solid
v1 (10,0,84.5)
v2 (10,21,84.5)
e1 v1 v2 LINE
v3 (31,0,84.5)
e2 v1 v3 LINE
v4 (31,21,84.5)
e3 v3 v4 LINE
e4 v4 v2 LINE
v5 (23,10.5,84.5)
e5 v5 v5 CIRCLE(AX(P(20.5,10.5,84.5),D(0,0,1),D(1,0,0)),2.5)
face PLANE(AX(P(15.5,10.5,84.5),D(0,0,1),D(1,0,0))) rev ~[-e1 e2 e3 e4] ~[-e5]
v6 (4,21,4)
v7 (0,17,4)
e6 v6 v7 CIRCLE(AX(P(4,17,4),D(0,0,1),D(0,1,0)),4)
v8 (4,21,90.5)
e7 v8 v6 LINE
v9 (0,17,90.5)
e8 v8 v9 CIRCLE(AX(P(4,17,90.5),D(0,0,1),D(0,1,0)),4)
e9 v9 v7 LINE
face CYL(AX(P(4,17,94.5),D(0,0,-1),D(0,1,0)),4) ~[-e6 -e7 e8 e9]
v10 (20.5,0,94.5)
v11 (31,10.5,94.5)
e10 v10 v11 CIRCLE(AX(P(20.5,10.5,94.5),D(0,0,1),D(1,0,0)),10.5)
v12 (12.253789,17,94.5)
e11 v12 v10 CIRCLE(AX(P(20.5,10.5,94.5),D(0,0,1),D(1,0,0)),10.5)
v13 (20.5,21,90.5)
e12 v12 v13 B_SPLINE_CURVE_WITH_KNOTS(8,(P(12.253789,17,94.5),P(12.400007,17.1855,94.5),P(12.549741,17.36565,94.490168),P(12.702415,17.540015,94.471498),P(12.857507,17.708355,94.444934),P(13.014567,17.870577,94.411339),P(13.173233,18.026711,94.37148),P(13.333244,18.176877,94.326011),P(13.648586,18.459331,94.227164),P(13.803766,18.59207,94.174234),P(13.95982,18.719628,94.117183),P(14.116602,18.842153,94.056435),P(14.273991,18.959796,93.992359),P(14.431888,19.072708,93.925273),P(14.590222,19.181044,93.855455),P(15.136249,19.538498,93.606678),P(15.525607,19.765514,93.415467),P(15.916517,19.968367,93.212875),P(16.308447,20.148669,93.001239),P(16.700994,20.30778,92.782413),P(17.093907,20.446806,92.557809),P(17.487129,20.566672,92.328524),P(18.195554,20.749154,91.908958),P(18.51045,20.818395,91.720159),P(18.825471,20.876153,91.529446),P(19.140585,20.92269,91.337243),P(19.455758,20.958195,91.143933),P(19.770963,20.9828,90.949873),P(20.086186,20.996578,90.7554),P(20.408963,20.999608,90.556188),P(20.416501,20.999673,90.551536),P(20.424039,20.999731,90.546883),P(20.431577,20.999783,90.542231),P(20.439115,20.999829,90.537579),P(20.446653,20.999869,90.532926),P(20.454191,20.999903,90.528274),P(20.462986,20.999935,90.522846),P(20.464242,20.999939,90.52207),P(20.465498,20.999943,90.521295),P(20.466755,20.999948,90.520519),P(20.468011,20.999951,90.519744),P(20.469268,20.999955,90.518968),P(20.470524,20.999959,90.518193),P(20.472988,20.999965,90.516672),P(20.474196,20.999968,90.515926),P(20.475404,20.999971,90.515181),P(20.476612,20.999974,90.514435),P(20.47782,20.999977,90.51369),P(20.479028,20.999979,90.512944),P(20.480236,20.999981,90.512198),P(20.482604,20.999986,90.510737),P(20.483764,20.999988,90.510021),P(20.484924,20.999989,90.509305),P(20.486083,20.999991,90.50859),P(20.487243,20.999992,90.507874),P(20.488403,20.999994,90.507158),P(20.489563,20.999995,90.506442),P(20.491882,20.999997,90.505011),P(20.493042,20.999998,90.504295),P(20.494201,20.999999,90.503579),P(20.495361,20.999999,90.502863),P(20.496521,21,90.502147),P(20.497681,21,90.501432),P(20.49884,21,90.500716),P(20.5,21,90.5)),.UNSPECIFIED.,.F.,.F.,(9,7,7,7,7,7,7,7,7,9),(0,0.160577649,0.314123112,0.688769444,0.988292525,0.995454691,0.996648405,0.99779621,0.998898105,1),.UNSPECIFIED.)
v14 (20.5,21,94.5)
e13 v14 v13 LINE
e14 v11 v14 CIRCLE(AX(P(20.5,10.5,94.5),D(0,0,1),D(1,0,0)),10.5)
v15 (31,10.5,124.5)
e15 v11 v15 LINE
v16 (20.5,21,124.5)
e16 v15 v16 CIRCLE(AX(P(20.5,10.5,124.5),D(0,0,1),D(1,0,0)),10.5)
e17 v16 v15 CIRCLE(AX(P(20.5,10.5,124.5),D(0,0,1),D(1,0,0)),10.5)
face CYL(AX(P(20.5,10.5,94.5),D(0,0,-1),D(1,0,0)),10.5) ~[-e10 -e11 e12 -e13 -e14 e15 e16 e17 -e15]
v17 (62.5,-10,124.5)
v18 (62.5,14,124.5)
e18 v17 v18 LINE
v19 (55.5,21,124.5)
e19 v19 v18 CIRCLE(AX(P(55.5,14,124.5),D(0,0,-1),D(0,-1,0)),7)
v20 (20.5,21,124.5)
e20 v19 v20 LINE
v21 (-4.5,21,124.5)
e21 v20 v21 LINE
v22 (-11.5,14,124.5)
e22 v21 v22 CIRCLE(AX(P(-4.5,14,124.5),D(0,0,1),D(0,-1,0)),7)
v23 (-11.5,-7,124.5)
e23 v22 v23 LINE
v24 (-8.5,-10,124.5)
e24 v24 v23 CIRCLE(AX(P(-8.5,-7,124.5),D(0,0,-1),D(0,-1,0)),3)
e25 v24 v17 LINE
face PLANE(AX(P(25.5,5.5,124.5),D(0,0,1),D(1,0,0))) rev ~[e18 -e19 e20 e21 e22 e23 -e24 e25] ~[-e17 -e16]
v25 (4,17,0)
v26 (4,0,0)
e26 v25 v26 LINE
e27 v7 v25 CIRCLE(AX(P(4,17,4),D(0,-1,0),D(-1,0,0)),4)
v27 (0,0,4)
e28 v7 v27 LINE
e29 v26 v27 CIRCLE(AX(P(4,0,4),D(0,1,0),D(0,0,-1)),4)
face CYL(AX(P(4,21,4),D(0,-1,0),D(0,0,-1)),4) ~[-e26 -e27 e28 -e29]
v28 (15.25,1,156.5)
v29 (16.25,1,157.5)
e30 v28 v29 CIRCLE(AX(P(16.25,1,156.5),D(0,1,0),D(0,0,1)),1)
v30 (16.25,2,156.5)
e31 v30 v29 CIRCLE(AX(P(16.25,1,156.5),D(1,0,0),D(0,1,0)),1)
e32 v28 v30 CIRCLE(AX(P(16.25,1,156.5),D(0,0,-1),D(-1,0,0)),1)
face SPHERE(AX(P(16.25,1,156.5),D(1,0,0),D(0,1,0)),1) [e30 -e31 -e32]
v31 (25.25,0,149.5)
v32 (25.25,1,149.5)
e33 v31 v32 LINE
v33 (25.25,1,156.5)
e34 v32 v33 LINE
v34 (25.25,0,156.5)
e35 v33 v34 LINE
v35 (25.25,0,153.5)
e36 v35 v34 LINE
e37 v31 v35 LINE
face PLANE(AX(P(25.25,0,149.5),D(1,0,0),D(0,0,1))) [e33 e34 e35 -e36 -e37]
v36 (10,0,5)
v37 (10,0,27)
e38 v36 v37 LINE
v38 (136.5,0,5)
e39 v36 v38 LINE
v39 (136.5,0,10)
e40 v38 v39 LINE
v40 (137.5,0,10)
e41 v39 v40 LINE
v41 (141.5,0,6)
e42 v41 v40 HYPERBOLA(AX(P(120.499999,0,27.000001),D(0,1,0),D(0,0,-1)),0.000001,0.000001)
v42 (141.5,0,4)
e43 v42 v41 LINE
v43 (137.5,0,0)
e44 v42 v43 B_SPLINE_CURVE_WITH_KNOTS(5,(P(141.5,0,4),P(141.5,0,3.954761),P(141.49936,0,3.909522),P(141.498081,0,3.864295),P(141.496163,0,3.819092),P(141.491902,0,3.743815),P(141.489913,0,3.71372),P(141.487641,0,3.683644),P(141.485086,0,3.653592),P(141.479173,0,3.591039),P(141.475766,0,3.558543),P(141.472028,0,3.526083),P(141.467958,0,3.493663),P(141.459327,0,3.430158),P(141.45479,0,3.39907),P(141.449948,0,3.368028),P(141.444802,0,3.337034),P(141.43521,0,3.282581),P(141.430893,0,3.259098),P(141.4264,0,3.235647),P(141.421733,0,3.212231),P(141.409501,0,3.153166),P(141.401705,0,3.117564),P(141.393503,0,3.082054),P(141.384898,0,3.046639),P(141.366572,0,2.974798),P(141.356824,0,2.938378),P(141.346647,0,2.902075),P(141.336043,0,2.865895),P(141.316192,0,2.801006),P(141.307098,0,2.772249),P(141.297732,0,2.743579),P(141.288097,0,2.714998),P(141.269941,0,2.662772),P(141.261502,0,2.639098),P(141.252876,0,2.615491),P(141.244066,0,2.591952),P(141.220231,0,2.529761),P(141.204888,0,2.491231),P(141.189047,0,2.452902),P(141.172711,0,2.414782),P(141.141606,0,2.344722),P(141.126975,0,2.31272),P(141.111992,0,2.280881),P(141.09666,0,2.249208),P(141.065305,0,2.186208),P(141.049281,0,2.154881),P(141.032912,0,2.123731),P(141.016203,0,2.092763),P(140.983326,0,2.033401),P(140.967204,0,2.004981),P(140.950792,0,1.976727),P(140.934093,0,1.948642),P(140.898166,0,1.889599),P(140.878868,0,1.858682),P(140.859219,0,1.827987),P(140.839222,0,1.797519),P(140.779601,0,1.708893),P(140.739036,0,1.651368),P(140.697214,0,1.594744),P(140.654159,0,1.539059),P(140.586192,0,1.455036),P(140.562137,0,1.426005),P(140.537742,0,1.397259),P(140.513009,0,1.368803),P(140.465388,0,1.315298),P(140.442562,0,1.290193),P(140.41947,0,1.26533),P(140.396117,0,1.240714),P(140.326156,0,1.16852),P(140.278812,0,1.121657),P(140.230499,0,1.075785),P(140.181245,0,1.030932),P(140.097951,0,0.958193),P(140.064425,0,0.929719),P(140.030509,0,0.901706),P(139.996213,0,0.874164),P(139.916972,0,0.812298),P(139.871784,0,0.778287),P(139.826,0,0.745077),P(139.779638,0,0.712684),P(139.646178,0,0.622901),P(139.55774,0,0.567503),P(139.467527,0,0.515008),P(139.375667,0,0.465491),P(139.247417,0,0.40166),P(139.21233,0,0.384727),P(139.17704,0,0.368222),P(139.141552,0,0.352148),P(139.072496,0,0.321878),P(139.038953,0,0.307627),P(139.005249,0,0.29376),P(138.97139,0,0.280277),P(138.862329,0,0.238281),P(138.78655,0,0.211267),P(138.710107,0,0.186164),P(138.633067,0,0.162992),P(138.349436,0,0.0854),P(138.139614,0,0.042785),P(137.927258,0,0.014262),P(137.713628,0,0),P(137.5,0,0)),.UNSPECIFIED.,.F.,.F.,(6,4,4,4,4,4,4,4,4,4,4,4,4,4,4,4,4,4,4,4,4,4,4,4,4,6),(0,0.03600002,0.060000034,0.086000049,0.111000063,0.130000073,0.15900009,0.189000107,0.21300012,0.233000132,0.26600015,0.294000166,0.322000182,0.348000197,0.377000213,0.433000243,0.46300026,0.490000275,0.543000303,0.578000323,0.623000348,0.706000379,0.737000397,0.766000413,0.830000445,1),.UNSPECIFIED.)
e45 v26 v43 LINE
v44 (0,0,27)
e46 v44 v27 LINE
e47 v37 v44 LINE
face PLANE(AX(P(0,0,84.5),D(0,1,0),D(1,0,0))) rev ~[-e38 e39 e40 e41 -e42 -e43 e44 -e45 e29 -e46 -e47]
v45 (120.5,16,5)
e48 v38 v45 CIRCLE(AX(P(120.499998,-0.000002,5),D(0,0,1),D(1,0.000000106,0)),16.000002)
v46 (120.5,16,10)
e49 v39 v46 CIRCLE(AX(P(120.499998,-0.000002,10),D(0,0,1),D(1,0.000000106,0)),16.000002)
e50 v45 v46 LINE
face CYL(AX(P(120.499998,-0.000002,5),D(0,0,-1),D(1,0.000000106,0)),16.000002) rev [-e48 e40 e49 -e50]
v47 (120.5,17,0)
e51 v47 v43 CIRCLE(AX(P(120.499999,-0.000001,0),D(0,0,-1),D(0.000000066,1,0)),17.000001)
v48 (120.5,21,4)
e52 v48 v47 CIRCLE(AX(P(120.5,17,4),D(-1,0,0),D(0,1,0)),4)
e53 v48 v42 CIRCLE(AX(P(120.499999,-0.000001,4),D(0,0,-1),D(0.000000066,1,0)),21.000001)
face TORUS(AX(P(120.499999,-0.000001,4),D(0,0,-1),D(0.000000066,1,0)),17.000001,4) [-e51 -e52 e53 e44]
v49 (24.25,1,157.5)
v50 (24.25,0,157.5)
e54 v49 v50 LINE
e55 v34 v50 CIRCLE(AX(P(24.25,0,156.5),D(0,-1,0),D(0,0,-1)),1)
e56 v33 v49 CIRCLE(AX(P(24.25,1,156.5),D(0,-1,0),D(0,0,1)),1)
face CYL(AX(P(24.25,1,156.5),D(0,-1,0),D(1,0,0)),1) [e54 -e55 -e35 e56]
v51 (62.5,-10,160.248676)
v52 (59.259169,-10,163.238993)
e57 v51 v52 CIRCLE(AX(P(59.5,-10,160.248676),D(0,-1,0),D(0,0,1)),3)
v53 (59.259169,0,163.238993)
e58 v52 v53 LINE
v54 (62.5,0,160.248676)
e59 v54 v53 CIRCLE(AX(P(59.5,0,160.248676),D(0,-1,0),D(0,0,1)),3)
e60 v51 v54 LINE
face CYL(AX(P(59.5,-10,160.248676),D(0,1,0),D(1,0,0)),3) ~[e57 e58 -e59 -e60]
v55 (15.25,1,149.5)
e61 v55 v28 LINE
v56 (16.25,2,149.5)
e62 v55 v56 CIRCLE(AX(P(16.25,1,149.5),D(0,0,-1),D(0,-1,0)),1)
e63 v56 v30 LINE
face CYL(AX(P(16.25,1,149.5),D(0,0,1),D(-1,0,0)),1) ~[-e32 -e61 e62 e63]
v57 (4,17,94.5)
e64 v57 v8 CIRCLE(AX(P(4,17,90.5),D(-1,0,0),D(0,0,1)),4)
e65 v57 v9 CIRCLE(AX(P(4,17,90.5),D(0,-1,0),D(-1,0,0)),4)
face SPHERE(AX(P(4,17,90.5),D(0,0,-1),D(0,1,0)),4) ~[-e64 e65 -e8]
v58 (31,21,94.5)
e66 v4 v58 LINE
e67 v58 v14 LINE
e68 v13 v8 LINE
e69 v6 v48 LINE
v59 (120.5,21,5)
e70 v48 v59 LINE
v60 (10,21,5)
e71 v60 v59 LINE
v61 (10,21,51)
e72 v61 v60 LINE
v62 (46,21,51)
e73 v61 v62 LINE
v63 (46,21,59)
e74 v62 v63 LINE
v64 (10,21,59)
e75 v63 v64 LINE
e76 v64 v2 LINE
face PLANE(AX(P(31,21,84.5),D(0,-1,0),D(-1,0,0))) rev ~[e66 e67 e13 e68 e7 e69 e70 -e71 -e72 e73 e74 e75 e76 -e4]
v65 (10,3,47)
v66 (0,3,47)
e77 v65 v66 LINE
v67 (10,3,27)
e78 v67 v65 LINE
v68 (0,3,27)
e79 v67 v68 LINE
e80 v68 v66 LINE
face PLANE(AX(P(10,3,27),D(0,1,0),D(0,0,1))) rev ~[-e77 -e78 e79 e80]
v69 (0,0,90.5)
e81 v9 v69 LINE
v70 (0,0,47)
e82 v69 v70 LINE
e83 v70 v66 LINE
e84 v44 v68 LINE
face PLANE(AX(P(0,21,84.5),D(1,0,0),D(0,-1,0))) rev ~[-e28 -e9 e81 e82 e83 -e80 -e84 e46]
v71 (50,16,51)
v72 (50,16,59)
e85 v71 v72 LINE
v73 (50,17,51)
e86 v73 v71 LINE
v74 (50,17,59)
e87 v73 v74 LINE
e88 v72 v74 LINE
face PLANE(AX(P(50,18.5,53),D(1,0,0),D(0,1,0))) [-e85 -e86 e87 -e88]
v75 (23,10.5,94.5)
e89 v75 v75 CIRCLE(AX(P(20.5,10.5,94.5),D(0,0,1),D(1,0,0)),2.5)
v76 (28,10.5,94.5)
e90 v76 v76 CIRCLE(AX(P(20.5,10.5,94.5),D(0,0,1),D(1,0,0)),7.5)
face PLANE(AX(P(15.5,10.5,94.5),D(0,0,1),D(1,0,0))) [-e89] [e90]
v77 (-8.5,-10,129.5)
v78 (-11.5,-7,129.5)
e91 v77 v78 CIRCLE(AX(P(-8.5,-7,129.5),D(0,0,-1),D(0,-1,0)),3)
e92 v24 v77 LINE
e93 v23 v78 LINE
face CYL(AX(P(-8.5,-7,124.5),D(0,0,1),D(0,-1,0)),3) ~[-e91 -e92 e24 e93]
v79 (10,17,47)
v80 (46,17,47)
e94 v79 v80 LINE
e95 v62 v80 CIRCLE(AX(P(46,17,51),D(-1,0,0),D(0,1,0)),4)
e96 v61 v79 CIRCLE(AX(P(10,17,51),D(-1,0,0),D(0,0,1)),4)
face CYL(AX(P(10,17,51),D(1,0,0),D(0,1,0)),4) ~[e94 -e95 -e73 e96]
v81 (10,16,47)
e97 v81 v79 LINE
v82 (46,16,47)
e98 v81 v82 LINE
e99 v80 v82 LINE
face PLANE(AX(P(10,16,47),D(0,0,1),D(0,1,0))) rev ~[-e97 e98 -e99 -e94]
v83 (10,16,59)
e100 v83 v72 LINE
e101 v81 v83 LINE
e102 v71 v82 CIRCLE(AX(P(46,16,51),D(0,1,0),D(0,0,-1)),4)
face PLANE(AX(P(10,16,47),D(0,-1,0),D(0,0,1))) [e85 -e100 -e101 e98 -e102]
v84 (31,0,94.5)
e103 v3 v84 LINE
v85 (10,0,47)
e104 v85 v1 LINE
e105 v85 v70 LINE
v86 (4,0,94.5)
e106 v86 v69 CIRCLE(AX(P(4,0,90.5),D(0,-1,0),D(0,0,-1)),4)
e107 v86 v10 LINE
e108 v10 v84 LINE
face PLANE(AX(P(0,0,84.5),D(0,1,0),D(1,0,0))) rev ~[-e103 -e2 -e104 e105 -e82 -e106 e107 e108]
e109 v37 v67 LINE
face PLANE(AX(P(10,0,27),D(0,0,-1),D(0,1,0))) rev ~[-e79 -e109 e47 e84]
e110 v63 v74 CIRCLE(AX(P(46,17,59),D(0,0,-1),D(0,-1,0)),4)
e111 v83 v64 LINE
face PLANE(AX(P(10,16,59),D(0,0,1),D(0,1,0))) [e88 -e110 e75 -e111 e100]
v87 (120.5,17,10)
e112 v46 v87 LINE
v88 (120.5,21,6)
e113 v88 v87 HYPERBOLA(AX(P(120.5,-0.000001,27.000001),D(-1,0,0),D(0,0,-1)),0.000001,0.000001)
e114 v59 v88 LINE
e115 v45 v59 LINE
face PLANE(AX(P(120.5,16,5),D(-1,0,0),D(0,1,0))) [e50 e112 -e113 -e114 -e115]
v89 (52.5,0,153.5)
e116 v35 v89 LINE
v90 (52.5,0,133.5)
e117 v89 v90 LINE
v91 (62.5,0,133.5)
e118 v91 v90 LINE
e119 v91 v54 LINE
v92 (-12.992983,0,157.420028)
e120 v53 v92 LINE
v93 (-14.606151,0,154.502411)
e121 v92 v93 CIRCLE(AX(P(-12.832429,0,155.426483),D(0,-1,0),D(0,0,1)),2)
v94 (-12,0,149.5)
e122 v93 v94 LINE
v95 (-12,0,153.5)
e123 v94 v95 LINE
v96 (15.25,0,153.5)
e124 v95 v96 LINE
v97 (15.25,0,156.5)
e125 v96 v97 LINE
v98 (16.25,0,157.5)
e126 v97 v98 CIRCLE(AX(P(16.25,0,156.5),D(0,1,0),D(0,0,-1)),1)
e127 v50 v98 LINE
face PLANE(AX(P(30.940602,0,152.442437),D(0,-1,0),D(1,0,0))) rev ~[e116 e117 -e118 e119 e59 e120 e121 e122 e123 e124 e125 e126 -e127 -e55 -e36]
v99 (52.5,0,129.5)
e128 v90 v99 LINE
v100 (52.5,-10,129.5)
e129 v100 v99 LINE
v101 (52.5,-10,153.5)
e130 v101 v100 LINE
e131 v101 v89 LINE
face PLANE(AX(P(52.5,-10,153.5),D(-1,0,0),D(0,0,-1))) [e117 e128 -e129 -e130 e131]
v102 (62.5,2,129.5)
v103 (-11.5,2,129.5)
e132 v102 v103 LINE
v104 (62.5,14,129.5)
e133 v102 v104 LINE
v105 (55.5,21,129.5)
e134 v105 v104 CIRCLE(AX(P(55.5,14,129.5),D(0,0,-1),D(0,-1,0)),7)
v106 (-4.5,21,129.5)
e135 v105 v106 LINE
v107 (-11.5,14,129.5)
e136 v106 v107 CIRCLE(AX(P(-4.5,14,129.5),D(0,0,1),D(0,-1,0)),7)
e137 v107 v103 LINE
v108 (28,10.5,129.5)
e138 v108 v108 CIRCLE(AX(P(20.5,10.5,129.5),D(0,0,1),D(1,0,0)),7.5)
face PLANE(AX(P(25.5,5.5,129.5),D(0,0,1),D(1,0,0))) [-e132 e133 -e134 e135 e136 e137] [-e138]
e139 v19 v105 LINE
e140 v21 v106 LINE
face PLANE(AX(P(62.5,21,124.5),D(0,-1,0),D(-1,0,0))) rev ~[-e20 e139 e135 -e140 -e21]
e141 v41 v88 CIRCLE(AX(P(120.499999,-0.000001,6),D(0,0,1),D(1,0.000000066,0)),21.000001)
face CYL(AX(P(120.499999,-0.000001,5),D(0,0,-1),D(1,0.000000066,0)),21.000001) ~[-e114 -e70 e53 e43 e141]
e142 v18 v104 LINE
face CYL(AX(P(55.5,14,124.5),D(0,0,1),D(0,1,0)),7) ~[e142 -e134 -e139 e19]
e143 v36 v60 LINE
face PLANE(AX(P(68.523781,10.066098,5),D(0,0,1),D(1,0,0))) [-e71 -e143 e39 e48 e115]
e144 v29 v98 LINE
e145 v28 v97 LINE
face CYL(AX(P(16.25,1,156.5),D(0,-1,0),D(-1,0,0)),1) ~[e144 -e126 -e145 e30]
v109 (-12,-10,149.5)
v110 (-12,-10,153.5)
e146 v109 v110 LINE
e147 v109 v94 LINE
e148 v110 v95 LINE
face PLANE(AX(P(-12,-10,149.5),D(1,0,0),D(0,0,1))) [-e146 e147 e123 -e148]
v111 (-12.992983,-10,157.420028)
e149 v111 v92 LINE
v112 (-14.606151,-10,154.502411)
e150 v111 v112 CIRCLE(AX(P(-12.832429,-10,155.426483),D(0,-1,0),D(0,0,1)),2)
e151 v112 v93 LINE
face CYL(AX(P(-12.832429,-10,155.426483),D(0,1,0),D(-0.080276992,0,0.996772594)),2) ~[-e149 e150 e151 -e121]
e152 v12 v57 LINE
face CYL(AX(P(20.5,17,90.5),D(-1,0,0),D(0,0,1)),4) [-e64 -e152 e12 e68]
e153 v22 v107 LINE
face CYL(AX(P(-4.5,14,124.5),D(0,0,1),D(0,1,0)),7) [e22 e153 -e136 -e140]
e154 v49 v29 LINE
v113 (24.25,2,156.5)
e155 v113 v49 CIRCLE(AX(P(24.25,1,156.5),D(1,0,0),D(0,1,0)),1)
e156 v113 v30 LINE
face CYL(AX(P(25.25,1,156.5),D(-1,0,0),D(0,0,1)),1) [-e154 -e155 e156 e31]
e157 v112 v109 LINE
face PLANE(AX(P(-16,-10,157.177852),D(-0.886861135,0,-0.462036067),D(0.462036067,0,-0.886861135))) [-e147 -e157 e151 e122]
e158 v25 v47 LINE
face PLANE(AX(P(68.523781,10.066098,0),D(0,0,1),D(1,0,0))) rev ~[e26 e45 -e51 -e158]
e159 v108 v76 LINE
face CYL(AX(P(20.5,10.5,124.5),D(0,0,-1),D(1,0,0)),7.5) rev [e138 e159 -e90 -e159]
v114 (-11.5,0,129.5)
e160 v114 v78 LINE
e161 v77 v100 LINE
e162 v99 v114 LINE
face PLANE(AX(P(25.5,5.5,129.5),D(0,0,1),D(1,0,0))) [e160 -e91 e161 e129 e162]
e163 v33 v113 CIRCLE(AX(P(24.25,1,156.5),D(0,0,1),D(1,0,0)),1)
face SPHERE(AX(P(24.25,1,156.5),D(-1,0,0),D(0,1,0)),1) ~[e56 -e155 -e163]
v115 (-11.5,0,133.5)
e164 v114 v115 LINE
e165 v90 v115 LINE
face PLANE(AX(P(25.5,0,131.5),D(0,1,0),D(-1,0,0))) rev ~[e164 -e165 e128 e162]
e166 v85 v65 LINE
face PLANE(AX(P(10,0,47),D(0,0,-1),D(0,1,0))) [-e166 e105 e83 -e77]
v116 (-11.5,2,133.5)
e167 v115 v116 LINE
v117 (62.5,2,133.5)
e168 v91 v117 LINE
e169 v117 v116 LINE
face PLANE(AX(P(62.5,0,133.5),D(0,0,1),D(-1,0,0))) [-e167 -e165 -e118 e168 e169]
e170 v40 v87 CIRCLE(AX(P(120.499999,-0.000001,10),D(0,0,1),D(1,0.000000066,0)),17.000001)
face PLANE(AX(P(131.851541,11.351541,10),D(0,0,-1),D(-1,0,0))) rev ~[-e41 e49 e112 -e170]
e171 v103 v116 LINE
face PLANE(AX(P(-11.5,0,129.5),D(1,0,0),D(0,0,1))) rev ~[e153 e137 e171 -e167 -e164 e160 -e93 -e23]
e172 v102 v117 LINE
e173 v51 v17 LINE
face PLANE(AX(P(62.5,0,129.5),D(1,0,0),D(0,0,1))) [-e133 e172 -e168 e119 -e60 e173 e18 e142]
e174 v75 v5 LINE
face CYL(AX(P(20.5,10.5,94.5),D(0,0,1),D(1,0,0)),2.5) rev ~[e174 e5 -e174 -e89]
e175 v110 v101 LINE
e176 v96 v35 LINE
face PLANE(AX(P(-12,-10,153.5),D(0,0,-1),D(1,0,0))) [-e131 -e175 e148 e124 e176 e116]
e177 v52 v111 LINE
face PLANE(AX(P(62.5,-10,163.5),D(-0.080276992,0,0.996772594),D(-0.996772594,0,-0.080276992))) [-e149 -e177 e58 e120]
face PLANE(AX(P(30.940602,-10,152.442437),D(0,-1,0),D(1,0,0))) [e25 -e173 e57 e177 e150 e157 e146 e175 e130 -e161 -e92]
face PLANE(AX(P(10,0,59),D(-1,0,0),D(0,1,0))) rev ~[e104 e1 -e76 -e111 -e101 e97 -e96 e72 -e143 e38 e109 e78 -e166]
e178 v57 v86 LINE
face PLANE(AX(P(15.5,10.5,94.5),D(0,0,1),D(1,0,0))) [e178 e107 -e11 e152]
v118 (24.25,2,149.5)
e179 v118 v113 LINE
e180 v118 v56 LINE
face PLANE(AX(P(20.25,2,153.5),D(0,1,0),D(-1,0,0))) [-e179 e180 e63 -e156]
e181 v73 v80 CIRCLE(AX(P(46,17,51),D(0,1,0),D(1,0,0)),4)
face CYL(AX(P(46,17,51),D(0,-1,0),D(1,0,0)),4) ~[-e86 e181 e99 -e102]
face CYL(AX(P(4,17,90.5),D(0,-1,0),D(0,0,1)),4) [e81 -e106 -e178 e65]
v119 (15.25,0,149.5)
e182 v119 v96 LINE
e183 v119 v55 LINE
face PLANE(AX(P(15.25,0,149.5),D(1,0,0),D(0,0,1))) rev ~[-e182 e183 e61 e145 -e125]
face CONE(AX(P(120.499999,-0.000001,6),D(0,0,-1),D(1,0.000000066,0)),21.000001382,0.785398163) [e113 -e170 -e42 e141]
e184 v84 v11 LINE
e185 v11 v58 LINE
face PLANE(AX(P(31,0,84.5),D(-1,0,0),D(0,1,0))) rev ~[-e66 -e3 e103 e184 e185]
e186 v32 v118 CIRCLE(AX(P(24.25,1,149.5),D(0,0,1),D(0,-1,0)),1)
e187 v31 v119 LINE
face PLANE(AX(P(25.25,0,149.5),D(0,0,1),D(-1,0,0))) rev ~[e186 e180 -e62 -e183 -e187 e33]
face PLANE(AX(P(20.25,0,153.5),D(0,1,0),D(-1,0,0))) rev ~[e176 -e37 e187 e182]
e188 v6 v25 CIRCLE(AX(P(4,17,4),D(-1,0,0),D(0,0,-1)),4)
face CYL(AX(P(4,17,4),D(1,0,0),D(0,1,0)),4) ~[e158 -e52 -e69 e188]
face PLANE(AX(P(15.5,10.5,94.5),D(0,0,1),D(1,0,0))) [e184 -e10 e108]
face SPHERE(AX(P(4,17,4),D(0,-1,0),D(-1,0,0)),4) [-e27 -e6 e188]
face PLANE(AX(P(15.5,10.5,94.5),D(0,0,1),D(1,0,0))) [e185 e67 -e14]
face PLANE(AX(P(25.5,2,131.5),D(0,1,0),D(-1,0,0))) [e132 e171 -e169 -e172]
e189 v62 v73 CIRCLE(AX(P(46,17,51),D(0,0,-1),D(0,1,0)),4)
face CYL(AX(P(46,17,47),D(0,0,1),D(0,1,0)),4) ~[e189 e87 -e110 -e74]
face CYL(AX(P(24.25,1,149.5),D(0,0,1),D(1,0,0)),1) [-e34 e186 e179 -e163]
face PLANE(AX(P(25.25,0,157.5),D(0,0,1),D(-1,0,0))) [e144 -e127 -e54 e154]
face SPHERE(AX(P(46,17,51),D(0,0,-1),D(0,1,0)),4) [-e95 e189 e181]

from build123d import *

# Parameters (mm, degrees)
PAD_DEPTH       = 5
SKETCH001_W     = 10
SKETCH001_H     = 21
PAD001_DEPTH    = 54
PAD002_DEPTH    = 5
SKETCH004_W     = 5
SKETCH004_H     = 12
PAD003_DEPTH    = 40
SKETCH005_W     = 10
SKETCH005_H     = 21
PAD004_DEPTH    = 25.5
PAD005_DEPTH    = 10
SKETCH007_R     = 2.5
POCKET_DEPTH    = 10
SKETCH008_R     = 10.5
SKETCH008_R_2   = 7.5
PAD006_DEPTH    = 30
CHAMFER_SIZE    = 4
FILLET_R        = 4
FILLET001_R     = 4
FILLET002_R     = 4
SKETCH009_W     = 3
SKETCH009_H     = 20
POCKET001_DEPTH = 10
SKETCH010_R     = 7.5
PAD007_DEPTH    = 5
FILLET003_R     = 4
FILLET004_R     = 4
PAD008_DEPTH    = 10
SKETCH012_W     = 74
SKETCH012_H     = 4
SKETCH012_W_2   = 10
SKETCH012_H_2   = 8
PAD009_DEPTH    = 2
FILLET005_R     = 7
FILLET006_R     = 7
FILLET007_R     = 3
FILLET008_R     = 2
FILLET009_R     = 3
FILLET010_R     = 1
FILLET011_R     = 1
FILLET012_R     = 1


with BuildPart() as part:
    # Sketch → Pad (new body)
    with BuildSketch(Plane.XY):
        with BuildLine():
            Line((0, 21), (0, 0))
            Line((0, 0), (10, 0))
            Line((136.5, 0), (10, 0))
            Line((141.5, 0), (136.5, 0))
            ThreePointArc((141.5, 0), (135.349242, 14.849242), (120.5, 21))
            Line((10, 21), (120.5, 21))
            Line((0, 21), (10, 21))
        make_face()
    extrude(amount=PAD_DEPTH)

    # Sketch001 (on Face4 of Pad) → Pad001 (join)
    with BuildSketch(Plane.XY.offset(5)):
        with Locations((5, 10.5)):
            Rectangle(SKETCH001_W, SKETCH001_H)
    extrude(amount=PAD001_DEPTH)

    # Sketch002 (on Face3 of Pad001) → Pad002 (join)
    with BuildSketch(Plane.XY.offset(5)):
        with BuildLine():
            ThreePointArc((136.5, 0), (131.813708, 11.313708), (120.5, 16))
            Line((120.5, 16), (120.5, 21))
            ThreePointArc((141.5, 0), (135.349242, 14.849242), (120.5, 21))
            Line((136.5, 0), (141.5, 0))
        make_face()
    extrude(amount=PAD002_DEPTH)

    # Sketch004 (on Face5 of Pad002) → Pad003 (join)
    with BuildSketch(Plane.YZ.offset(10)):
        with Locations((18.5, 53)):
            Rectangle(SKETCH004_W, SKETCH004_H)
    extrude(amount=PAD003_DEPTH)

    # Sketch005 (on Face14 of Pad003) → Pad004 (join)
    with BuildSketch(Plane.XY.offset(59)):
        with Locations((5, 10.5)):
            Rectangle(SKETCH005_W, SKETCH005_H)
    extrude(amount=PAD004_DEPTH)

    # Sketch006 (on Face1 of Pad004) → Pad005 (join)
    with BuildSketch(Plane.XY.offset(84.5)):
        Polygon((0, 0), (31, 0), (31, 21), (10, 21), (0, 21), align=None)
    extrude(amount=PAD005_DEPTH)

    # Sketch007 (on Face11 of Pad005) → Pocket (cut)
    with BuildSketch(Plane.XY.offset(94.5)):
        with Locations((20.5, 10.5)):
            Circle(SKETCH007_R)
    extrude(amount=-POCKET_DEPTH, mode=Mode.SUBTRACT)

    # Sketch008 (on Face10 of Pocket) → Pad006 (join)
    with BuildSketch(Plane.XY.offset(94.5)):
        with Locations((20.5, 10.5)):
            Circle(SKETCH008_R)
        with Locations((20.5, 10.5)):
            Circle(SKETCH008_R_2, mode=Mode.SUBTRACT)
    extrude(amount=PAD006_DEPTH)

    # Chamfer
    chamfer_edges = [part.edges().sort_by_distance(p)[0] for p in [
        (135.349242, 14.849242, 10),
    ]]
    chamfer(chamfer_edges, length=CHAMFER_SIZE)

    # Fillet
    fillet_edges = [part.edges().sort_by_distance(p)[0] for p in [
        (50, 21, 53),
    ]]
    fillet(fillet_edges, radius=FILLET_R)

    # Fillet001
    fillet001_edges = [part.edges().sort_by_distance(p)[0] for p in [
        (0, 10.5, 0),
    ]]
    fillet(fillet001_edges, radius=FILLET001_R)

    # Fillet002
    fillet002_edges = [part.edges().sort_by_distance(p)[0] for p in [
        (0, 21, 49.25),
    ]]
    fillet(fillet002_edges, radius=FILLET002_R)

    # Sketch009 (on Face6 of Fillet002) → Pocket001 (cut)
    with BuildSketch(Plane.YZ.offset(10)):
        with Locations((1.5, 37)):
            Rectangle(SKETCH009_W, SKETCH009_H)
    extrude(amount=-POCKET001_DEPTH, mode=Mode.SUBTRACT)

    # Sketch010 (on Face33 of Pocket001) → Pad007 (join)
    with BuildSketch(Plane.XY.offset(124.5)):
        Polygon((-11.5, -10), (52.5, -10), (62.5, -10), (62.5, 21), (52.5, 21), (-11.5, 21), align=None)
        with Locations((20.5, 10.5)):
            Circle(SKETCH010_R, mode=Mode.SUBTRACT)
    extrude(amount=PAD007_DEPTH)

    # Fillet003
    fillet003_edges = [part.edges().sort_by_distance(p)[0] for p in [
        (0, 8.5, 94.5),
    ]]
    fillet(fillet003_edges, radius=FILLET003_R)

    # Fillet004
    fillet004_edges = [part.edges().sort_by_distance(p)[0] for p in [
        (28, 21, 47),
    ]]
    fillet(fillet004_edges, radius=FILLET004_R)

    # Sketch011 (on Face43 of Fillet004) → Pad008 (join)
    with BuildSketch(Plane.XZ.offset(10)):
        Polygon((62.5, 163.5), (-16, 157.177852), (-12, 149.5), (-12, 153.5), (52.5, 153.5), (52.5, 129.5), (62.5, 129.5), (62.5, 153.5), align=None)
    extrude(amount=-PAD008_DEPTH)

    # Sketch012 (on Face45 of Pad008) → Pad009 (join)
    with BuildSketch(Plane(origin=(0, 0, 0), x_dir=(-1, 0, 0), z_dir=(0, 1, 0))):
        with Locations((-25.5, 131.5)):
            Rectangle(SKETCH012_W, SKETCH012_H)
        with Locations((-20.25, 153.5)):
            Rectangle(SKETCH012_W_2, SKETCH012_H_2)
    extrude(amount=PAD009_DEPTH)

    # Fillet005
    fillet005_edges = [part.edges().sort_by_distance(p)[0] for p in [
        (-11.5, 21, 127),
    ]]
    fillet(fillet005_edges, radius=FILLET005_R)

    # Fillet006
    fillet006_edges = [part.edges().sort_by_distance(p)[0] for p in [
        (62.5, 21, 127),
    ]]
    fillet(fillet006_edges, radius=FILLET006_R)

    # Fillet007
    fillet007_edges = [part.edges().sort_by_distance(p)[0] for p in [
        (62.5, -5, 163.5),
    ]]
    fillet(fillet007_edges, radius=FILLET007_R)

    # Fillet008
    fillet008_edges = [part.edges().sort_by_distance(p)[0] for p in [
        (-16, -5, 157.177852),
    ]]
    fillet(fillet008_edges, radius=FILLET008_R)

    # Fillet009
    fillet009_edges = [part.edges().sort_by_distance(p)[0] for p in [
        (-11.5, -10, 127),
    ]]
    fillet(fillet009_edges, radius=FILLET009_R)

    # Fillet010
    fillet010_edges = [part.edges().sort_by_distance(p)[0] for p in [
        (20.25, 2, 157.5),
    ]]
    fillet(fillet010_edges, radius=FILLET010_R)

    # Fillet011
    fillet011_edges = [part.edges().sort_by_distance(p)[0] for p in [
        (15.25, 2, 153),
    ]]
    fillet(fillet011_edges, radius=FILLET011_R)

    # Fillet012
    fillet012_edges = [part.edges().sort_by_distance(p)[0] for p in [
        (25.25, 2, 153),
    ]]
    fillet(fillet012_edges, radius=FILLET012_R)


solid = part.part
